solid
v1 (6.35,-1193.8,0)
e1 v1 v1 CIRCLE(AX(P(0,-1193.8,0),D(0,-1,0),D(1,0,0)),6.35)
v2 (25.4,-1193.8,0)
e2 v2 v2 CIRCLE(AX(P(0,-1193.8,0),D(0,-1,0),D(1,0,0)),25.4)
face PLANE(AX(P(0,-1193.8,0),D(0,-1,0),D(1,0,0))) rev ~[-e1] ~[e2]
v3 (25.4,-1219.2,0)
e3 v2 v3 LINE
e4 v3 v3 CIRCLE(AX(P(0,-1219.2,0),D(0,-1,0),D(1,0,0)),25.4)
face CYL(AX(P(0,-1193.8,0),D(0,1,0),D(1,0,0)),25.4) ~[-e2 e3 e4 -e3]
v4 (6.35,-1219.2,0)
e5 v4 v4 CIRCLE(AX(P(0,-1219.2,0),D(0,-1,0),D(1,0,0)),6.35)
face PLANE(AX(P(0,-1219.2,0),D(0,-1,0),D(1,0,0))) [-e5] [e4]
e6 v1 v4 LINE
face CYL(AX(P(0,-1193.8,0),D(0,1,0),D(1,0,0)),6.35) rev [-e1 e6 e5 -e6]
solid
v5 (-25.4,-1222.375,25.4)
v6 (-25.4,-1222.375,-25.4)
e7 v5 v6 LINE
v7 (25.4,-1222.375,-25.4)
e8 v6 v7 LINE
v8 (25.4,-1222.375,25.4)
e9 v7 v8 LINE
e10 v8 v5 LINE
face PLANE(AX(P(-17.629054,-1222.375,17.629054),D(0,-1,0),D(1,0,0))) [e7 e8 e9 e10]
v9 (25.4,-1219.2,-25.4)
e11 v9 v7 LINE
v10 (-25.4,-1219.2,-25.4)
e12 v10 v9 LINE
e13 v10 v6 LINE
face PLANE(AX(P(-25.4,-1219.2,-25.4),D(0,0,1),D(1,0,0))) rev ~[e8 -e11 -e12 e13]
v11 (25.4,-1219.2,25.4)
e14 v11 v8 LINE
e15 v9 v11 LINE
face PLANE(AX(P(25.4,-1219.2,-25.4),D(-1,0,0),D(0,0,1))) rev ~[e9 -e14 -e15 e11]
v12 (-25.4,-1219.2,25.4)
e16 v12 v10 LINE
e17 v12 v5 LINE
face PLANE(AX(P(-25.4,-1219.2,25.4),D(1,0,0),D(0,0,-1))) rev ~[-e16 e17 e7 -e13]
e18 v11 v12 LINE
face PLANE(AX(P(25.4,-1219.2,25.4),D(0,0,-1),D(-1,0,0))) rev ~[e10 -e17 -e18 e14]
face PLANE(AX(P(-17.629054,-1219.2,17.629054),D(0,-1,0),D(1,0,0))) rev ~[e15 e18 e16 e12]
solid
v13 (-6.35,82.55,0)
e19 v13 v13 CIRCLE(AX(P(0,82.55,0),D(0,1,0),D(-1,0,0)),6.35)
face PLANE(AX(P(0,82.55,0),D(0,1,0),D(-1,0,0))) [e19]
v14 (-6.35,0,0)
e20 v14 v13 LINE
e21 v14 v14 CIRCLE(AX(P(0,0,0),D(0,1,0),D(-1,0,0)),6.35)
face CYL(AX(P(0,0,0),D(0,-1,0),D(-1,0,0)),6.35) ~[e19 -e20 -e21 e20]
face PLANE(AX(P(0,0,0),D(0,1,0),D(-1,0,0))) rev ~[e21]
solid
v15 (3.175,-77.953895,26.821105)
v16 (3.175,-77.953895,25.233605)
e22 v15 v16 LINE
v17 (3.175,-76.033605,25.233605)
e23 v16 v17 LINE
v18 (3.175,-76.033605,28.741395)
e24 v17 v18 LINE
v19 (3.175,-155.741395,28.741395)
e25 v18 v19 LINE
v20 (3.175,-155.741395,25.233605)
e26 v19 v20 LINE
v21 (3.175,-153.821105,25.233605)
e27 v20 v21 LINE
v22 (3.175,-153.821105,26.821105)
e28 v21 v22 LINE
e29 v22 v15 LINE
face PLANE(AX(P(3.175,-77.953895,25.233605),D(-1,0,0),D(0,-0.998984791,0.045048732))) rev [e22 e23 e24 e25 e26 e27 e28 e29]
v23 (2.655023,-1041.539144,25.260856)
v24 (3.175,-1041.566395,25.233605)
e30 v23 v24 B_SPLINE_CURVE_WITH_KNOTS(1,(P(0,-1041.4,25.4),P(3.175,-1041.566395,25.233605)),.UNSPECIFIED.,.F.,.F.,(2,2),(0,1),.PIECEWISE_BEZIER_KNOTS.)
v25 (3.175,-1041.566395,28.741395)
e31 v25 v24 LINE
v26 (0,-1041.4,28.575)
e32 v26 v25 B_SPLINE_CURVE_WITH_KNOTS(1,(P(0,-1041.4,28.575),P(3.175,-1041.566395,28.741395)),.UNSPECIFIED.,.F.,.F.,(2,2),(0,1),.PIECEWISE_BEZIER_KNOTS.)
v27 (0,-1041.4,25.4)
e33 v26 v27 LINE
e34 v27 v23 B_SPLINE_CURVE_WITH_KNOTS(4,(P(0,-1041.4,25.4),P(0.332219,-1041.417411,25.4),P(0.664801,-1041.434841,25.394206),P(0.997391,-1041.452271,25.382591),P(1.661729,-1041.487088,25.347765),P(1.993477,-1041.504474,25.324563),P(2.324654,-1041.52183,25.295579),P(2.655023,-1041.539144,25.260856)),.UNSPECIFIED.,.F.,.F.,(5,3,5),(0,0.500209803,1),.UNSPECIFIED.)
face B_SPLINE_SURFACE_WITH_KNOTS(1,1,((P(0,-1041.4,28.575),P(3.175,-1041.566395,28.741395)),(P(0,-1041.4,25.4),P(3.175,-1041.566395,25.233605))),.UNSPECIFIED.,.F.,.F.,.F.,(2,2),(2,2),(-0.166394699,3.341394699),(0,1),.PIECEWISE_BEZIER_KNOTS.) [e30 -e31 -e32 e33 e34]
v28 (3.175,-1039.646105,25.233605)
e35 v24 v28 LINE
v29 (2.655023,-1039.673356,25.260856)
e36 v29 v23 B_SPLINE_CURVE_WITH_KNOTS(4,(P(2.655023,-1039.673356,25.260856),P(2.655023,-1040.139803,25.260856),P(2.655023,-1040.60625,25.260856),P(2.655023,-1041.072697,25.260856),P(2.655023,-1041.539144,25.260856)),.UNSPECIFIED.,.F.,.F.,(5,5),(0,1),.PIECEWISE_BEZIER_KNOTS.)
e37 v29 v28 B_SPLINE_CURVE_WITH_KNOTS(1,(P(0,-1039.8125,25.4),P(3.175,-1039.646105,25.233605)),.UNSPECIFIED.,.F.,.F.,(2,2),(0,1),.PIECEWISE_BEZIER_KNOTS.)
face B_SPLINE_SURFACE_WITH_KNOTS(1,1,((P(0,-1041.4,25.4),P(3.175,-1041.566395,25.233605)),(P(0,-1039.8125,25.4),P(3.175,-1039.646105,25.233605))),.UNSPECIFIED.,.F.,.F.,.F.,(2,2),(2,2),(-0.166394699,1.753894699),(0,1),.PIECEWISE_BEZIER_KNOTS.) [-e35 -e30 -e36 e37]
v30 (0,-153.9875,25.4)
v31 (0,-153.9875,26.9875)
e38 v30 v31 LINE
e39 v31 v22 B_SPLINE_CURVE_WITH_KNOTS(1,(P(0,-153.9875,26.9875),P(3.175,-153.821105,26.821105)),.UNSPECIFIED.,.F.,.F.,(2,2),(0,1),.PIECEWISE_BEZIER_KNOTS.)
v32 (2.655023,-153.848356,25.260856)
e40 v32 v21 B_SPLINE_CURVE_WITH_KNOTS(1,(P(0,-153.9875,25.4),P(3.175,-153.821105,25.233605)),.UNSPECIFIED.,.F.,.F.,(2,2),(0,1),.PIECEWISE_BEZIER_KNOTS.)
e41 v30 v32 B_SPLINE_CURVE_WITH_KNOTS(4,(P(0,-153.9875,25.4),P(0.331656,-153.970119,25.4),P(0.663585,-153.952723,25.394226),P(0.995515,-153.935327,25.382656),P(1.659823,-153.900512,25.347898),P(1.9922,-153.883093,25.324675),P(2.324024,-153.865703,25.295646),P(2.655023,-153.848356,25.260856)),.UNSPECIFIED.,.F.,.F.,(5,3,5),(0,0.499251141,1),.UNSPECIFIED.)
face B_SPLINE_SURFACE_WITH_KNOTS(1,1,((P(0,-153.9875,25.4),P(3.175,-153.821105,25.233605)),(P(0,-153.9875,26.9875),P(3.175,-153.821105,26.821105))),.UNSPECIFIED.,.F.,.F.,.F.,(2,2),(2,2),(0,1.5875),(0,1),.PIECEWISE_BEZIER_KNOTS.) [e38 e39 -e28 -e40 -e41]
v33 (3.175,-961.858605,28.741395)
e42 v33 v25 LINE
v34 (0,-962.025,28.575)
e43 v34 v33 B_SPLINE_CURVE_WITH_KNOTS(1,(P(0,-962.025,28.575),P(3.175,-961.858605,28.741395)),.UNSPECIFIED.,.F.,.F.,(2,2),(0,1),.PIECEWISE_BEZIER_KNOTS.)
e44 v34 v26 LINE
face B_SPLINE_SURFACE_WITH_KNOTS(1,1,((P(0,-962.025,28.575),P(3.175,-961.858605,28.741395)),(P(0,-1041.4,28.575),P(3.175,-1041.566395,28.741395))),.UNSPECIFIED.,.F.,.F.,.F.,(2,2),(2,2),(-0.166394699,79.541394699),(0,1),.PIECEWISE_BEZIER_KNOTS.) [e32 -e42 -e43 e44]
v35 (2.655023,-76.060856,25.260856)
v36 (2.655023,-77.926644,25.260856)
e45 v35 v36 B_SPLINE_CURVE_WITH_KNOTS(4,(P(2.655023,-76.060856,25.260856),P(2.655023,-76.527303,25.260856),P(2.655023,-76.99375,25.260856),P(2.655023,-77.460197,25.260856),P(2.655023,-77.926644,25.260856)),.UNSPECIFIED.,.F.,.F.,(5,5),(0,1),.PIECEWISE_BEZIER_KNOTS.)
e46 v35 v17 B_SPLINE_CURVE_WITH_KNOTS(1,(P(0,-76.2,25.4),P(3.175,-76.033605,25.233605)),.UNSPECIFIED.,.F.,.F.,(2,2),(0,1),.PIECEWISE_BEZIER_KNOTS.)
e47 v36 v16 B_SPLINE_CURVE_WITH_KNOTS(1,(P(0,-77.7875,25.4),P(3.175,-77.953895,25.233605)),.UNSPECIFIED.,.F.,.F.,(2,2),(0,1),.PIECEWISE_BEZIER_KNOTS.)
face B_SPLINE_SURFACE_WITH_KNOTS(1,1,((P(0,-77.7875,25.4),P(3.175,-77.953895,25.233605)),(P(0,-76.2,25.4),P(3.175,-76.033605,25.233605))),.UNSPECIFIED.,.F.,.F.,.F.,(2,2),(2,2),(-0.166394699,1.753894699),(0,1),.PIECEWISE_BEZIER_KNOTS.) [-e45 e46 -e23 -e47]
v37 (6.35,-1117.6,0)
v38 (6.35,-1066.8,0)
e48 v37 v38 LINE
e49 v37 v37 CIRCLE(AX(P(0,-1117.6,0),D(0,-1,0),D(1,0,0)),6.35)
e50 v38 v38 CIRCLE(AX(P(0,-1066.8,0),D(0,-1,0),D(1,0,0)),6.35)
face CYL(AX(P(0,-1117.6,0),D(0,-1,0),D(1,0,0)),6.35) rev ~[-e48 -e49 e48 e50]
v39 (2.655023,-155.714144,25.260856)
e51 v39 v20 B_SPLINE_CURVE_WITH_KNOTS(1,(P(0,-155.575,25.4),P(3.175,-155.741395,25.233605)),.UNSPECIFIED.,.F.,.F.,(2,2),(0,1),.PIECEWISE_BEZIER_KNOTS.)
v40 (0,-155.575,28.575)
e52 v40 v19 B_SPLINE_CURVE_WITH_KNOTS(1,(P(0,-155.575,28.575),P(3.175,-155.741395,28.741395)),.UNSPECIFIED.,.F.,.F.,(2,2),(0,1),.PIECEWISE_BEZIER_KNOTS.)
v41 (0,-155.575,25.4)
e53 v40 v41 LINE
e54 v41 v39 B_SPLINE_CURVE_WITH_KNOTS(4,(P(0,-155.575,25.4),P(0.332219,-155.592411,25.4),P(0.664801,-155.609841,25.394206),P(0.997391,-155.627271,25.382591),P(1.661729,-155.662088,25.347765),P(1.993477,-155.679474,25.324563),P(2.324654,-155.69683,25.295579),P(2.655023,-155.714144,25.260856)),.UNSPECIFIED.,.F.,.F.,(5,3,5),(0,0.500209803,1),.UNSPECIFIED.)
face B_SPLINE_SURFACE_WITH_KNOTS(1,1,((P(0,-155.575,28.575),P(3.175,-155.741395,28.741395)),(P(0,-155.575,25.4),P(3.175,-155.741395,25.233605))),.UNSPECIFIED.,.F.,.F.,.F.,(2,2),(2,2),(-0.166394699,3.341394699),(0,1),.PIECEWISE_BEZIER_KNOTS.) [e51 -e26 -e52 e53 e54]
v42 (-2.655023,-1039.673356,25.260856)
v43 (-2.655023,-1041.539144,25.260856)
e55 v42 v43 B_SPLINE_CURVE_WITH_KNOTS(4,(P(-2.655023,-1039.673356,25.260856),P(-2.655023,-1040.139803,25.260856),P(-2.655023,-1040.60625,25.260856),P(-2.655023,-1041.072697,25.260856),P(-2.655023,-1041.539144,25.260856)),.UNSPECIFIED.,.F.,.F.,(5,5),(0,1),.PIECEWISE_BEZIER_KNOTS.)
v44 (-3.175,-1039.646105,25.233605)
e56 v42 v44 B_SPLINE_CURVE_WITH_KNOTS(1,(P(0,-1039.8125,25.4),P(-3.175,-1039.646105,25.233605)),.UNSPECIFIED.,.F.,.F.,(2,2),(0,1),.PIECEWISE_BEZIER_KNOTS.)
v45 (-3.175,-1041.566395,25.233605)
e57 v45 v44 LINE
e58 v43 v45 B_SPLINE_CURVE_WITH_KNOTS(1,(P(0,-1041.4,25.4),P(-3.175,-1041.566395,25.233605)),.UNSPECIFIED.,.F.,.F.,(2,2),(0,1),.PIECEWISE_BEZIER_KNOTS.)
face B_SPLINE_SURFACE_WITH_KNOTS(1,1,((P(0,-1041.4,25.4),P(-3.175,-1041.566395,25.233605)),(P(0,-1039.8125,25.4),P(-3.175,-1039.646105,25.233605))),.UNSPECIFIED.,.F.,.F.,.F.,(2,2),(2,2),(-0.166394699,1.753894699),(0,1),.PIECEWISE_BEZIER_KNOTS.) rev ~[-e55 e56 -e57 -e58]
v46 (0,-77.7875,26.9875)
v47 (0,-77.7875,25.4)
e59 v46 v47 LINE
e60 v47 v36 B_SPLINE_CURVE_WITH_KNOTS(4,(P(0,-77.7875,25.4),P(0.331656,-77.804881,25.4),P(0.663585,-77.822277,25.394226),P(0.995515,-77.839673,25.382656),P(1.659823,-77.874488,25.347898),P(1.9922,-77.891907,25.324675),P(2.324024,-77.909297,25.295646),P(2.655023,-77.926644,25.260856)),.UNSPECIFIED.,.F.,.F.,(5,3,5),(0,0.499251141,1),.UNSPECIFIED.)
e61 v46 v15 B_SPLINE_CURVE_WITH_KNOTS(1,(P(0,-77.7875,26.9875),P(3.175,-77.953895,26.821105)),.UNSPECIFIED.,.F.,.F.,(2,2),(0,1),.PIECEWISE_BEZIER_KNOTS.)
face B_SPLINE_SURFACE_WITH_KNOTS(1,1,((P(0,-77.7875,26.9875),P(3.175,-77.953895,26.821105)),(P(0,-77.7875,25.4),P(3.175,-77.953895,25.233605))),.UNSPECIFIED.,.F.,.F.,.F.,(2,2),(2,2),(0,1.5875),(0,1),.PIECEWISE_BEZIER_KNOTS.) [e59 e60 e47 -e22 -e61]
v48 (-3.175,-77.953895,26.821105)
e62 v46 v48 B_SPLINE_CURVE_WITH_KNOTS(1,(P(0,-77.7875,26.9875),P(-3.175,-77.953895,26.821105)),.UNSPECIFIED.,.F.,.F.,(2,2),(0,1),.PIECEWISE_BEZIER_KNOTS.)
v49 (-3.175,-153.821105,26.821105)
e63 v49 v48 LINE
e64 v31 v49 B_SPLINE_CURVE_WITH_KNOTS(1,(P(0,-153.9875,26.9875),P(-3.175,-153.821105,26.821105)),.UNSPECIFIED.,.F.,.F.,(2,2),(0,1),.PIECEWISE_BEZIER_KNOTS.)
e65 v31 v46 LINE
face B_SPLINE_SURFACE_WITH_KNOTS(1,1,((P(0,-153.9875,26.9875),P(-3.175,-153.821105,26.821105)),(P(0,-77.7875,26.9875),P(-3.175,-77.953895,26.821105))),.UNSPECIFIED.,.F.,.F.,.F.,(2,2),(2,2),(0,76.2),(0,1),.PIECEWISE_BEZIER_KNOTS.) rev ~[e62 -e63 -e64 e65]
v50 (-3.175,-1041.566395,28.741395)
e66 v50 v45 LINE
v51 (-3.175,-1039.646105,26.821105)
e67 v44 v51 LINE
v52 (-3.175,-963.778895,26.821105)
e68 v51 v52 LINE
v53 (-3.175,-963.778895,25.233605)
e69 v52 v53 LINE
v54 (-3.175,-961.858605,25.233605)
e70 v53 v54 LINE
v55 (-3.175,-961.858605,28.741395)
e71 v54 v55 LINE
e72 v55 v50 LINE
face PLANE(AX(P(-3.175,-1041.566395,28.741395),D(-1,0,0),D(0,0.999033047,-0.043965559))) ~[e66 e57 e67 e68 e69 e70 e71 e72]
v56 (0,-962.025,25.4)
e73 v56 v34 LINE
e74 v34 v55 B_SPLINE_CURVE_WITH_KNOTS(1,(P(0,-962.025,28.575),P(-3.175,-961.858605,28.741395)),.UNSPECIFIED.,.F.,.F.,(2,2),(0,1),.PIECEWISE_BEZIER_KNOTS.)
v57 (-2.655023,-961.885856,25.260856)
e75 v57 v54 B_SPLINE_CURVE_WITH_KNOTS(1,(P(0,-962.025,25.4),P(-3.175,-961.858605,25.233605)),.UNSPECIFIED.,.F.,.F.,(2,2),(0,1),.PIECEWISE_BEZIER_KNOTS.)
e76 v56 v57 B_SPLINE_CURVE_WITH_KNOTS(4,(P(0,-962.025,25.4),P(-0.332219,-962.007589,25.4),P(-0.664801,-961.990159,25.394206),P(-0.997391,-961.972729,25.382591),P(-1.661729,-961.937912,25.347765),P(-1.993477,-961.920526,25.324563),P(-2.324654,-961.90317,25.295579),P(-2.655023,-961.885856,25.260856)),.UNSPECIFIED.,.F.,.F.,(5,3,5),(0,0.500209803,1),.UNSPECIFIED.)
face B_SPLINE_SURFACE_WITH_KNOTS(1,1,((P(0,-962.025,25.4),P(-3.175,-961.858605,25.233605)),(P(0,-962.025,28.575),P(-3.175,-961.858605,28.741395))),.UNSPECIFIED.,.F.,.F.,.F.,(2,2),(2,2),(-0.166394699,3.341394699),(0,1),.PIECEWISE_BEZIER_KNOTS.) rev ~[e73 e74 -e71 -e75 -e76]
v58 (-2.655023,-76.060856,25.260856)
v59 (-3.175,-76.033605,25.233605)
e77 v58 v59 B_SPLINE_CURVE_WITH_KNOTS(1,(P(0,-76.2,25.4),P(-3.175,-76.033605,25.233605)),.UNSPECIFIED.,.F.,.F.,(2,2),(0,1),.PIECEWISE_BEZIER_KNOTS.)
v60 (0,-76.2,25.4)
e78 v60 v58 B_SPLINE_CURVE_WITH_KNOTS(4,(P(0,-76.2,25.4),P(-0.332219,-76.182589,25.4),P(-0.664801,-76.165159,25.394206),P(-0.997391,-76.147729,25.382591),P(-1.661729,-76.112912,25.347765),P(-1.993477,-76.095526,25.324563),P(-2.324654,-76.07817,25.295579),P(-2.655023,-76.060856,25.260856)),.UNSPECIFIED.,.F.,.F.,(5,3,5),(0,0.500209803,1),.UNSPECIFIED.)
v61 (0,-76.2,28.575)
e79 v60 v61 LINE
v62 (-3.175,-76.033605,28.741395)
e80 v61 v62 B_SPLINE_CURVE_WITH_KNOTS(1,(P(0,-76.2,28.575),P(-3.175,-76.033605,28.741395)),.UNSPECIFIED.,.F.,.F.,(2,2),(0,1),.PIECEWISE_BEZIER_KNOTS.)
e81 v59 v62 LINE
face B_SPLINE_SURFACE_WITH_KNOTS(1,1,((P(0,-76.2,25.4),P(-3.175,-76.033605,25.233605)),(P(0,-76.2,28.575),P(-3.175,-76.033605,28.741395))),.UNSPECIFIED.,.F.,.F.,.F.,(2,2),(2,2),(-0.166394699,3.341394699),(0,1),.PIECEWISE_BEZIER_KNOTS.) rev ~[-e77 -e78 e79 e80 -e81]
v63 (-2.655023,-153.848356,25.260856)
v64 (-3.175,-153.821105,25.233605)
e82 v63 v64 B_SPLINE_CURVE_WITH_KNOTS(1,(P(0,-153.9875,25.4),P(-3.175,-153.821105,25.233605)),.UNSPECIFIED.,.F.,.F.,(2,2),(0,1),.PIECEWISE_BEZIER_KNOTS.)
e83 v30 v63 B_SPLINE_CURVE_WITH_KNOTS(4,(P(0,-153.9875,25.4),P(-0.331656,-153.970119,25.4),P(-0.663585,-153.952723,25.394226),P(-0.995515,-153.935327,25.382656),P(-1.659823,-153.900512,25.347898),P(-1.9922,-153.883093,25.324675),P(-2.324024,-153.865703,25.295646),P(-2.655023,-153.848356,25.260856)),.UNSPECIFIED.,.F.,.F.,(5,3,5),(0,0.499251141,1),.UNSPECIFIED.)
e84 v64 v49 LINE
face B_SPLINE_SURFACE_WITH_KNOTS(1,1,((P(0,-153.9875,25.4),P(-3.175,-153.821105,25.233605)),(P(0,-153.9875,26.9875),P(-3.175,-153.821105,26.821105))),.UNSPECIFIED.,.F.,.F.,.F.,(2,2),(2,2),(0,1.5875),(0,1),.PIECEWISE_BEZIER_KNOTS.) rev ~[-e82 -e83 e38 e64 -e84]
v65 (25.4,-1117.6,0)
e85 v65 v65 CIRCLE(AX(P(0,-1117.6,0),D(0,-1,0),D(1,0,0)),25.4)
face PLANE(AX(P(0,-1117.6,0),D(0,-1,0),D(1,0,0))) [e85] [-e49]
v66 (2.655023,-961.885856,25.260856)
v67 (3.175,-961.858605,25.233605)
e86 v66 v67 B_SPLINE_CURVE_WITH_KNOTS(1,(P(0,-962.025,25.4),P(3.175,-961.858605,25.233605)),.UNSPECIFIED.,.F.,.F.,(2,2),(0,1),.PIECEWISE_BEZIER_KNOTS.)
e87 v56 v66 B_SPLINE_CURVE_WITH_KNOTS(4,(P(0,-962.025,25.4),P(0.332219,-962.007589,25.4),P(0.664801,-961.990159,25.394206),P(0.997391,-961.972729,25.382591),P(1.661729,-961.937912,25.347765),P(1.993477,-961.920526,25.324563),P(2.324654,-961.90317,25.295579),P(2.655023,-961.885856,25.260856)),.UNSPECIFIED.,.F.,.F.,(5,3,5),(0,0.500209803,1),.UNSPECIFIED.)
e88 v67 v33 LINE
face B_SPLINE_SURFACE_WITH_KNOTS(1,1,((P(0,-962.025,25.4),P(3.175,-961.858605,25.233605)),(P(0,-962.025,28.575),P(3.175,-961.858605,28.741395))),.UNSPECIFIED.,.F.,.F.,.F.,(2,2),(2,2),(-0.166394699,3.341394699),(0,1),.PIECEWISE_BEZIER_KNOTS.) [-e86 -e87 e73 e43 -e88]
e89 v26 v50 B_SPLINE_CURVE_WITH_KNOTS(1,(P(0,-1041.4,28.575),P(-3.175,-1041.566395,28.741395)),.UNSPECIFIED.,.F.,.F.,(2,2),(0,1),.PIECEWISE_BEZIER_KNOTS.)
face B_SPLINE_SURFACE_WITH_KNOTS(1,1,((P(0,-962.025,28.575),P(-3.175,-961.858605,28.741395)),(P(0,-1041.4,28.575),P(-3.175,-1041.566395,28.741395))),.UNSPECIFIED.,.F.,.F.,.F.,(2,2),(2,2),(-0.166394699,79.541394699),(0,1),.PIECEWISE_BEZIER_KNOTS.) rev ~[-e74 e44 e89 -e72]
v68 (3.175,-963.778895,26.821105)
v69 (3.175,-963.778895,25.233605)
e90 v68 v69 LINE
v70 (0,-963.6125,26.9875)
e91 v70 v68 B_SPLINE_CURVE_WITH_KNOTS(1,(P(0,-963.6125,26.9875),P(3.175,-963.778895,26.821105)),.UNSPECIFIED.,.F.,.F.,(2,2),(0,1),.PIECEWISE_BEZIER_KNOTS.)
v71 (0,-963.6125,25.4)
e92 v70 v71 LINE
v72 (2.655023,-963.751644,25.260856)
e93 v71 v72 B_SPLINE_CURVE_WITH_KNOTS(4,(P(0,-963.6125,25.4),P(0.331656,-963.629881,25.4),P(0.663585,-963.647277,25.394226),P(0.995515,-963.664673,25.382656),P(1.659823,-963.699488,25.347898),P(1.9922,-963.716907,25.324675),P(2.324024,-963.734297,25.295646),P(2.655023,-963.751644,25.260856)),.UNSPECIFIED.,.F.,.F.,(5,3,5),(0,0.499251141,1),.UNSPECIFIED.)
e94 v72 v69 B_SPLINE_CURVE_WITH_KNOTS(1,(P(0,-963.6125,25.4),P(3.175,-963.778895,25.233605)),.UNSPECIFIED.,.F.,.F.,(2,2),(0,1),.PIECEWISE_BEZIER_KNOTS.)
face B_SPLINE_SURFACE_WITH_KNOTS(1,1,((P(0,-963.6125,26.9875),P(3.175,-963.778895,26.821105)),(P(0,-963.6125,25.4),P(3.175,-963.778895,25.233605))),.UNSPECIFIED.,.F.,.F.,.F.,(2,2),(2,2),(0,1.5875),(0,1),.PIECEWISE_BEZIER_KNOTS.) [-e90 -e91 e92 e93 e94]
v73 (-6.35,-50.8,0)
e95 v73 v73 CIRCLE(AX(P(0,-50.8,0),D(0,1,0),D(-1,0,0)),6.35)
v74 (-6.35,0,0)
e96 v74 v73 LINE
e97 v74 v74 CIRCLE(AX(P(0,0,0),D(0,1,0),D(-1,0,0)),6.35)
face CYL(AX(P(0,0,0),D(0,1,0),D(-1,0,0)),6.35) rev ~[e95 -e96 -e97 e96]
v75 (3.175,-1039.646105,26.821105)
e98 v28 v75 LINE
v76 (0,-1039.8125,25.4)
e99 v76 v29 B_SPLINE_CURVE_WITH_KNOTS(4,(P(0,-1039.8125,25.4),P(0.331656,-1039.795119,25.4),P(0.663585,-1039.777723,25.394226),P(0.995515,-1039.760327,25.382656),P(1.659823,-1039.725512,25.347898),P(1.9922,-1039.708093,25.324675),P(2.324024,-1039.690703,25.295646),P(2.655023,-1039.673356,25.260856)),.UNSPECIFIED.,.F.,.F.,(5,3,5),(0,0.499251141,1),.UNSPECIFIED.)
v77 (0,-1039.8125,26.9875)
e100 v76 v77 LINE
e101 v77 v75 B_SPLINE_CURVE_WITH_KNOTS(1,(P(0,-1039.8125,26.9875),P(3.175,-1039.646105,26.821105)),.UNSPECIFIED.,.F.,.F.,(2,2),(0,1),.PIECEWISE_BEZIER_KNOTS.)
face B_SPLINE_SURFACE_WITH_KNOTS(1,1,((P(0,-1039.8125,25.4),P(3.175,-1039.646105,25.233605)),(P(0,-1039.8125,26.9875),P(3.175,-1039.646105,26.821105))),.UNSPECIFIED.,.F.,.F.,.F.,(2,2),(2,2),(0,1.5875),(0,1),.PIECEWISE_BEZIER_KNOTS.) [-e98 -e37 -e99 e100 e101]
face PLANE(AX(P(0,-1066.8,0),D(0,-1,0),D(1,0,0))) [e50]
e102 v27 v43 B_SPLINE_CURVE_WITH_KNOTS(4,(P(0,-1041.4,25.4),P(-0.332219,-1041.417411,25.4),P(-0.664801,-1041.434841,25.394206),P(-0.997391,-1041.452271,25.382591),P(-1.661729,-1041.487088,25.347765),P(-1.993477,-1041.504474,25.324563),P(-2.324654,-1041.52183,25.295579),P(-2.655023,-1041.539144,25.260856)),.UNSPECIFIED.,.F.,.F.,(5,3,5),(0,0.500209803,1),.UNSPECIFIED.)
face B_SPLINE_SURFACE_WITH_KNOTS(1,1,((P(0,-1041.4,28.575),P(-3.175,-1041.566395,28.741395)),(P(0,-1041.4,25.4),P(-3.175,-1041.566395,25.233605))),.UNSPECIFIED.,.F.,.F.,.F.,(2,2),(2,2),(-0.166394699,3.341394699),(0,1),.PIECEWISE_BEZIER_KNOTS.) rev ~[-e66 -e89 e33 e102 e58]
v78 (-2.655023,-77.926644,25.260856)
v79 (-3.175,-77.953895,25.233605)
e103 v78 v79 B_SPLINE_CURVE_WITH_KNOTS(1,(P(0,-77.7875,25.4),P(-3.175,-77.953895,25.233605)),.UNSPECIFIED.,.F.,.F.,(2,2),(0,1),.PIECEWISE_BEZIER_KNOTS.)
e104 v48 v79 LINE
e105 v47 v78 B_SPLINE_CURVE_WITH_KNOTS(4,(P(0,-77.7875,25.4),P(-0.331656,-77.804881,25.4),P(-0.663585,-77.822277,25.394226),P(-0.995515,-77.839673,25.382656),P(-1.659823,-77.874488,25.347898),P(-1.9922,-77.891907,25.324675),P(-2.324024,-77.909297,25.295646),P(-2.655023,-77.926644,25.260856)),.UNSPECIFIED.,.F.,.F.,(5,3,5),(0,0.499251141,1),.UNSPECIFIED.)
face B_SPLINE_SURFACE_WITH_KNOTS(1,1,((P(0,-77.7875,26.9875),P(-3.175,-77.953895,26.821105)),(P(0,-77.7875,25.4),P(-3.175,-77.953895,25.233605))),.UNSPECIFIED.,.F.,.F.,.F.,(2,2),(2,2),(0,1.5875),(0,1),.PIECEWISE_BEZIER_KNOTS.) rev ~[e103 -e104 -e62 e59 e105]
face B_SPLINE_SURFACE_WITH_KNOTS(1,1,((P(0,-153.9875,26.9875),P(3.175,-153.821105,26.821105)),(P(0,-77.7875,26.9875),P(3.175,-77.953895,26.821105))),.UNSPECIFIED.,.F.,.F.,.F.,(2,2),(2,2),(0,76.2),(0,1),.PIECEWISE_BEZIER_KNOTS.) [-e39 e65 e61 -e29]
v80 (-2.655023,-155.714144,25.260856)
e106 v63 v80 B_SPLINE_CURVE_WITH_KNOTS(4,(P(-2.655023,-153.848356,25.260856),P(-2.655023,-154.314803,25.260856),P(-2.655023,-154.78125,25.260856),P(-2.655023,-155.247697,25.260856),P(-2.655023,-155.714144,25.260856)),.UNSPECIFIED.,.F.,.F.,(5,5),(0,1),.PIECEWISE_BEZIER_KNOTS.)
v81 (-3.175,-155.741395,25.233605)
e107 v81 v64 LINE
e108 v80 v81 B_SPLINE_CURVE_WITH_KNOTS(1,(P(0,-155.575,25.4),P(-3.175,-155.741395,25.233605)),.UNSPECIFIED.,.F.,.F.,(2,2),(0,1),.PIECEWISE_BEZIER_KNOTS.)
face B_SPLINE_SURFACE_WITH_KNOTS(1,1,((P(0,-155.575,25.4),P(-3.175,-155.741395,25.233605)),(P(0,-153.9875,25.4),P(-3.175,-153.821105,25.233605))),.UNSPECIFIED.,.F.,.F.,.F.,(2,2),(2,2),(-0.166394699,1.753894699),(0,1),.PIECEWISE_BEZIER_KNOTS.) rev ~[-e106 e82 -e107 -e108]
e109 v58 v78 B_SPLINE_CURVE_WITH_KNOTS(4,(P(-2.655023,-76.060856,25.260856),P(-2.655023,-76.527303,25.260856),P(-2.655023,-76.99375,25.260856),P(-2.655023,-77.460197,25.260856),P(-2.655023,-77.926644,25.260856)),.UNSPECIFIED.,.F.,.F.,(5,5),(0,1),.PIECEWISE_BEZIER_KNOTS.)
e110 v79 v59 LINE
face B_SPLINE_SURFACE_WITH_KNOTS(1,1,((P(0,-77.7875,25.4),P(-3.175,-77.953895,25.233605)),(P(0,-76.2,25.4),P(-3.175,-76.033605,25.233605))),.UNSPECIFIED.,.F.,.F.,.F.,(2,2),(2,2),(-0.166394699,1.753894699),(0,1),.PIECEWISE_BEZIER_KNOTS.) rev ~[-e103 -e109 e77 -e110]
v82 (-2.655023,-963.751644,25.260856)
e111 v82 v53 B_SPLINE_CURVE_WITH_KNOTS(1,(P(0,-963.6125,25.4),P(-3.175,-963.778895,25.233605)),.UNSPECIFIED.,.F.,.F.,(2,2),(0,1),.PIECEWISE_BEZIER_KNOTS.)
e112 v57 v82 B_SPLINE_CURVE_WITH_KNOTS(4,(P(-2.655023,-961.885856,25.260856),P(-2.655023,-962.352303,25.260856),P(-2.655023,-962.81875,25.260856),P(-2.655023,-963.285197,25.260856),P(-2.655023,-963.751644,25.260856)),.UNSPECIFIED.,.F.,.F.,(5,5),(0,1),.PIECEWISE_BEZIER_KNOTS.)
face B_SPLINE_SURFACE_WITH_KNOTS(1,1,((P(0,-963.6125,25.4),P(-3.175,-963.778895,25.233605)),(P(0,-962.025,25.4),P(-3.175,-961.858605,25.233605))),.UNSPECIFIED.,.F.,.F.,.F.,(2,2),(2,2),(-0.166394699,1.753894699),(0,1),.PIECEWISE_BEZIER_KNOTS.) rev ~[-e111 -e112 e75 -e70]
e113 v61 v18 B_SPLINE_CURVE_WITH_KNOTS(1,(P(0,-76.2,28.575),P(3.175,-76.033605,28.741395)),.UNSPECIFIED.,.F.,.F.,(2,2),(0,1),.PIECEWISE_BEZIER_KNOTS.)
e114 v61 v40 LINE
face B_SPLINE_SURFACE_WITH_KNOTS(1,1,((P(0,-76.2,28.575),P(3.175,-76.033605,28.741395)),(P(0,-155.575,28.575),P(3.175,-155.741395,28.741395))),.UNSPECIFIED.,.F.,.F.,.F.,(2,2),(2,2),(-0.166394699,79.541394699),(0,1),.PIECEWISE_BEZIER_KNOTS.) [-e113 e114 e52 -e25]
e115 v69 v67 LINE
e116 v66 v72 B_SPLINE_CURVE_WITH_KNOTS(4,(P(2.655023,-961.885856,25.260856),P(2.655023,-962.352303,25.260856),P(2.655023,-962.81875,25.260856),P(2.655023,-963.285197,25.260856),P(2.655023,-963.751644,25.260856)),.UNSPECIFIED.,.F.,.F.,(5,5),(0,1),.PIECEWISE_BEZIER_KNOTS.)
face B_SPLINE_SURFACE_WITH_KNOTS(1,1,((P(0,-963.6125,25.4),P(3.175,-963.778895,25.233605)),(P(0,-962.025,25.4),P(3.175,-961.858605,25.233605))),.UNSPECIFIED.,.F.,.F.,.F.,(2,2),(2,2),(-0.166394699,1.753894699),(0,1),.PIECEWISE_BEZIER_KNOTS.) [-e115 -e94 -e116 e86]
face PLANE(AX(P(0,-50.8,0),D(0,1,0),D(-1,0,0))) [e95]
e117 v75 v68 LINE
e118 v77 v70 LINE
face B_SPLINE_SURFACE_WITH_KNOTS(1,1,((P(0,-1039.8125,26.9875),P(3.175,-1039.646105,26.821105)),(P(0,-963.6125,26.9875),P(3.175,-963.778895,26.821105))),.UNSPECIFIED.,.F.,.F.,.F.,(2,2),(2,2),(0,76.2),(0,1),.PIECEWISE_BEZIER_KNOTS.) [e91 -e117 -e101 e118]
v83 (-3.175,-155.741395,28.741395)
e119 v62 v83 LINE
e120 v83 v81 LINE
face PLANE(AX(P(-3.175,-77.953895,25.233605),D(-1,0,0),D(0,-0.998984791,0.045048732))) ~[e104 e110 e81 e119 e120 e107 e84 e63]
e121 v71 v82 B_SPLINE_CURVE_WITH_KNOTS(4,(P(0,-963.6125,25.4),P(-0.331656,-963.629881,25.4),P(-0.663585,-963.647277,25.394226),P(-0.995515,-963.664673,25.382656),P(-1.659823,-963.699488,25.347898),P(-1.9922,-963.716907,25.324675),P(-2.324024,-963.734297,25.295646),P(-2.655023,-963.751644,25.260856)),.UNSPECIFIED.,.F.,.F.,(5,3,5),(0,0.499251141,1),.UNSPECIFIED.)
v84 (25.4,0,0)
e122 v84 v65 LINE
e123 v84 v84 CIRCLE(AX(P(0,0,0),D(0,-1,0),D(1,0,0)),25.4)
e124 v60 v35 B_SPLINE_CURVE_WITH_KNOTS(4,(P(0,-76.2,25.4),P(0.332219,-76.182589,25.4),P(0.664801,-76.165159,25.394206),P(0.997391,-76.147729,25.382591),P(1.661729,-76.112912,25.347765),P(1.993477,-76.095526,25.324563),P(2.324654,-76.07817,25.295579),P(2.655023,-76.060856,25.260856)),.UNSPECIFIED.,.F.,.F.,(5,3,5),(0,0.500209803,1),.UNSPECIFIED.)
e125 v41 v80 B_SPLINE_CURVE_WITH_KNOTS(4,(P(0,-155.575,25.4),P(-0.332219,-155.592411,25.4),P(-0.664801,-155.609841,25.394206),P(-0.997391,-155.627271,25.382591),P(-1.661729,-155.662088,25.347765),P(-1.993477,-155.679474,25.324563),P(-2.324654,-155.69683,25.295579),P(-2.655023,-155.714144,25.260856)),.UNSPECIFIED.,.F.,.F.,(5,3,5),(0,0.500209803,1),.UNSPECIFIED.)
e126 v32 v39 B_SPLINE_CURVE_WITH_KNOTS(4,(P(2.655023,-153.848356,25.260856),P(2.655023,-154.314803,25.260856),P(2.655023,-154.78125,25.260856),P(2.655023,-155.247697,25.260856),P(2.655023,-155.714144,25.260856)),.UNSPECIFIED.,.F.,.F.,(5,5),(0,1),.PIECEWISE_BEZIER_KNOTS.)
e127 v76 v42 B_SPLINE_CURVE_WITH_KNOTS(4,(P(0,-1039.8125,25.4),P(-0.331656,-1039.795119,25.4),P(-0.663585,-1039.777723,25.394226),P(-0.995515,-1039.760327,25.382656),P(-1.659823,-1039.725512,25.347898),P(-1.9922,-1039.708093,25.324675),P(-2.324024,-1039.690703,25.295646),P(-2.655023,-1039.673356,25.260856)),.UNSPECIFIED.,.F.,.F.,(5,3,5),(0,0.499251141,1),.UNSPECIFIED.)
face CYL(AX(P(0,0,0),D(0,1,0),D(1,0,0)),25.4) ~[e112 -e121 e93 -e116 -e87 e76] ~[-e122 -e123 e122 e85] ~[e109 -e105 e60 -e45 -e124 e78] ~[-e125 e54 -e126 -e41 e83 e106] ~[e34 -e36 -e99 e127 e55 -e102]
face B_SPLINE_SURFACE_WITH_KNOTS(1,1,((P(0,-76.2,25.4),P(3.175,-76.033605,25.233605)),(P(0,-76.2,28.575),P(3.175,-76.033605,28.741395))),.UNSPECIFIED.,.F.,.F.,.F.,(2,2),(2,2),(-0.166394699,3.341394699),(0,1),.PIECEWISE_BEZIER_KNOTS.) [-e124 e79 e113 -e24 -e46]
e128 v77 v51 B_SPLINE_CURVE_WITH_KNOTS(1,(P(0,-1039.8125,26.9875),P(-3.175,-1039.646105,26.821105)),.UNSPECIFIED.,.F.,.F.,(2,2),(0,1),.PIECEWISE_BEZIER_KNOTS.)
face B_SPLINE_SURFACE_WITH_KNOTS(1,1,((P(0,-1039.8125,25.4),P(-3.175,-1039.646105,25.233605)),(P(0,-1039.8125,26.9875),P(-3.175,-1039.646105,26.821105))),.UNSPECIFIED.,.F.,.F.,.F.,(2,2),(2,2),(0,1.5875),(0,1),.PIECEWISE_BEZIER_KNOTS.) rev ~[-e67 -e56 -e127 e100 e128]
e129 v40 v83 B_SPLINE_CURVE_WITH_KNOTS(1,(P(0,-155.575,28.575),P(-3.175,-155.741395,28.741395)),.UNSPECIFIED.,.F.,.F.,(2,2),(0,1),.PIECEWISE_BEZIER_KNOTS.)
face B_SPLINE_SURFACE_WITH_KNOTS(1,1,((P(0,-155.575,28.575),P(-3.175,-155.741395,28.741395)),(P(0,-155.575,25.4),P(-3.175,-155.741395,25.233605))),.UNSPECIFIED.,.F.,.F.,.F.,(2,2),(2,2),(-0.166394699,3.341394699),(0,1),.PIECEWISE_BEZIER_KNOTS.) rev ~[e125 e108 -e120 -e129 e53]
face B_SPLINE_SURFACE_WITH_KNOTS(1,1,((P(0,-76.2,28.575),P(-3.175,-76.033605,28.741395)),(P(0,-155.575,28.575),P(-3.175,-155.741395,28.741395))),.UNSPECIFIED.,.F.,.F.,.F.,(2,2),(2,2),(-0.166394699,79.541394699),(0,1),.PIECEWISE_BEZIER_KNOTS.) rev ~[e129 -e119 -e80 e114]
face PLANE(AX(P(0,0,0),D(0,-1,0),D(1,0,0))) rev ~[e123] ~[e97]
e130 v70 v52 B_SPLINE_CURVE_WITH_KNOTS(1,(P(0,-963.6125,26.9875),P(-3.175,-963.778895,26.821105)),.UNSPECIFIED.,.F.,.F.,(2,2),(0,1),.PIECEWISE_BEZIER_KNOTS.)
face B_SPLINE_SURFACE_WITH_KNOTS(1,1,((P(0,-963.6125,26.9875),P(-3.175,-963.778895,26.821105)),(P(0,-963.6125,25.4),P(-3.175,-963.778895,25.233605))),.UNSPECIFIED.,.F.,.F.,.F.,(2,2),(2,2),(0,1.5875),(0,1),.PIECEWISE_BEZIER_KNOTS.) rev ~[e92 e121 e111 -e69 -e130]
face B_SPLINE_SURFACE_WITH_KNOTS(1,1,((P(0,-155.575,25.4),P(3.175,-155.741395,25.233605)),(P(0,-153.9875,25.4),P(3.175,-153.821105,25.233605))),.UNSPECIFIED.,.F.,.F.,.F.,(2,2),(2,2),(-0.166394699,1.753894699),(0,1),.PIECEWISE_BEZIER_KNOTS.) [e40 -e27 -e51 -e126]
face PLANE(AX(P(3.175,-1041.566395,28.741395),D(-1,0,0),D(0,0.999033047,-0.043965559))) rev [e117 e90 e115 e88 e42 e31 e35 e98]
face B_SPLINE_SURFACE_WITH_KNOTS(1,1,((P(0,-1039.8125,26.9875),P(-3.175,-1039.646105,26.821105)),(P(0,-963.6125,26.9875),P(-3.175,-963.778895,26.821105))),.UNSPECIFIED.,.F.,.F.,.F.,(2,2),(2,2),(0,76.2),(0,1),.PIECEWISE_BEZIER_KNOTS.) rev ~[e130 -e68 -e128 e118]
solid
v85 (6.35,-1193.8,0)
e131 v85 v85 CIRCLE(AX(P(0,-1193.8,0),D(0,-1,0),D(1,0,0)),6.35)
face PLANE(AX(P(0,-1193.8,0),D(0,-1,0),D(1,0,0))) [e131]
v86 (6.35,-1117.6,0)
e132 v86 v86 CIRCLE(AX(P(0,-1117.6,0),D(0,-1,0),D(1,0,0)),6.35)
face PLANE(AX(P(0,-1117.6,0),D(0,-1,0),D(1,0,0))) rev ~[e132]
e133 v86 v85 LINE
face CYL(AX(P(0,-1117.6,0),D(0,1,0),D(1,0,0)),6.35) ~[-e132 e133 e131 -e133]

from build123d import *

# Parameters (mm, degrees)
F0_R      = 25.4
F1_DEPTH  = 1117.6
F2_R      = 6.35
F3_DEPTH  = 50.8
F4_R      = 6.35
F5_DEPTH  = 50.8
F6_DEPTH  = 76.2
F7_R      = 25.4
F7_R_2    = 6.35
F8_DEPTH  = 25.4
F9_DEPTH  = 82.55
F10_R     = 6.35
F11_DEPTH = 3.175
F13_DEPTH = 3.175
F13_TAPER = -3


with BuildPart() as f1:
    # F0 (on Front) → F1 (new body)
    with BuildSketch(Plane.XZ):
        Circle(F0_R)
    extrude(amount=F1_DEPTH)

    # F2 (on face) → F3 (cut)
    with BuildSketch(Plane(origin=(0, 0, 0), x_dir=(-1, 0, 0), z_dir=(0, 1, 0))):
        Circle(F2_R)
    extrude(amount=-F3_DEPTH, mode=Mode.SUBTRACT)

    # F4 (on face) → F5 (cut)
    with BuildSketch(Plane.XZ.offset(1117.6)):
        Circle(F4_R)
    extrude(amount=-F5_DEPTH, mode=Mode.SUBTRACT)

    # F12 (on Right) → F13 (join, symmetric)
    with BuildSketch(Plane.YZ):
        Polygon((-77.7875, 25.4), (-76.2, 25.4), (-76.2, 28.575), (-155.575, 28.575), (-155.575, 25.4), (-153.9875, 25.4), (-153.9875, 26.9875), (-77.7875, 26.9875), align=None)
        Polygon((-1041.4, 28.575), (-1041.4, 25.4), (-1039.8125, 25.4), (-1039.8125, 26.9875), (-963.6125, 26.9875), (-963.6125, 25.4), (-962.025, 25.4), (-962.025, 28.575), align=None)
    extrude(amount=F13_DEPTH, both=True, taper=F13_TAPER)


with BuildPart() as f6:
    # F4 (on face) → F6 (new body)
    with BuildSketch(Plane.XZ.offset(1117.6)):
        Circle(F4_R)
    extrude(amount=F6_DEPTH)


with BuildPart() as f8:
    # F7 (on face) → F8 (new body)
    with BuildSketch(Plane.XZ.offset(1193.8)):
        Circle(F7_R)
        Circle(F7_R_2, mode=Mode.SUBTRACT)
    extrude(amount=F8_DEPTH)


with BuildPart() as f9:
    # F2 (on face) → F9 (new body)
    with BuildSketch(Plane(origin=(0, 0, 0), x_dir=(-1, 0, 0), z_dir=(0, 1, 0))):
        Circle(F2_R)
    extrude(amount=F9_DEPTH)


with BuildPart() as f11:
    # F10 (on face) → F11 (new body)
    with BuildSketch(Plane.XZ.offset(1219.2)):
        with BuildLine():
            Line((4.89e-08, 25.4), (-25.4, 25.4))
            Line((-25.4, 25.4), (-25.4, 3.44e-08))
            ThreePointArc((-25.4, 3.44e-08), (-17.9605122127, 17.9605122716), (4.89e-08, 25.4))
        make_face()
        with BuildLine():
            Line((25.4, 25.4), (4.89e-08, 25.4))
            ThreePointArc((4.89e-08, 25.4), (17.9605122594, 17.9605122249), (25.4, 0))
            Line((25.4, 0), (25.4, 25.4))
        make_face()
        with BuildLine():
            ThreePointArc((25.4, 0), (17.9605122594, 17.9605122249), (4.89e-08, 25.4))
            ThreePointArc((4.89e-08, 25.4), (-17.9605122127, 17.9605122716), (-25.4, 3.44e-08))
            ThreePointArc((-25.4, 3.44e-08), (-17.9605122437, -17.9605122406), (3.01e-08, -25.4))
            ThreePointArc((3.01e-08, -25.4), (17.9605122528, -17.9605122315), (25.4, 0))
        make_face()
        Circle(F10_R, mode=Mode.SUBTRACT)
        Circle(F10_R)
        with BuildLine():
            ThreePointArc((3.01e-08, -25.4), (-17.9605122437, -17.9605122406), (-25.4, 3.44e-08))
            Line((-25.4, 3.44e-08), (-25.4, -25.4))
            Line((-25.4, -25.4), (3.01e-08, -25.4))
        make_face()
        with BuildLine():
            Line((25.4, -25.4), (25.4, 0))
            ThreePointArc((25.4, 0), (17.9605122528, -17.9605122315), (3.01e-08, -25.4))
            Line((3.01e-08, -25.4), (25.4, -25.4))
        make_face()
    extrude(amount=F11_DEPTH)


solid = Compound([f1.part, f6.part, f8.part, f9.part, f11.part])
